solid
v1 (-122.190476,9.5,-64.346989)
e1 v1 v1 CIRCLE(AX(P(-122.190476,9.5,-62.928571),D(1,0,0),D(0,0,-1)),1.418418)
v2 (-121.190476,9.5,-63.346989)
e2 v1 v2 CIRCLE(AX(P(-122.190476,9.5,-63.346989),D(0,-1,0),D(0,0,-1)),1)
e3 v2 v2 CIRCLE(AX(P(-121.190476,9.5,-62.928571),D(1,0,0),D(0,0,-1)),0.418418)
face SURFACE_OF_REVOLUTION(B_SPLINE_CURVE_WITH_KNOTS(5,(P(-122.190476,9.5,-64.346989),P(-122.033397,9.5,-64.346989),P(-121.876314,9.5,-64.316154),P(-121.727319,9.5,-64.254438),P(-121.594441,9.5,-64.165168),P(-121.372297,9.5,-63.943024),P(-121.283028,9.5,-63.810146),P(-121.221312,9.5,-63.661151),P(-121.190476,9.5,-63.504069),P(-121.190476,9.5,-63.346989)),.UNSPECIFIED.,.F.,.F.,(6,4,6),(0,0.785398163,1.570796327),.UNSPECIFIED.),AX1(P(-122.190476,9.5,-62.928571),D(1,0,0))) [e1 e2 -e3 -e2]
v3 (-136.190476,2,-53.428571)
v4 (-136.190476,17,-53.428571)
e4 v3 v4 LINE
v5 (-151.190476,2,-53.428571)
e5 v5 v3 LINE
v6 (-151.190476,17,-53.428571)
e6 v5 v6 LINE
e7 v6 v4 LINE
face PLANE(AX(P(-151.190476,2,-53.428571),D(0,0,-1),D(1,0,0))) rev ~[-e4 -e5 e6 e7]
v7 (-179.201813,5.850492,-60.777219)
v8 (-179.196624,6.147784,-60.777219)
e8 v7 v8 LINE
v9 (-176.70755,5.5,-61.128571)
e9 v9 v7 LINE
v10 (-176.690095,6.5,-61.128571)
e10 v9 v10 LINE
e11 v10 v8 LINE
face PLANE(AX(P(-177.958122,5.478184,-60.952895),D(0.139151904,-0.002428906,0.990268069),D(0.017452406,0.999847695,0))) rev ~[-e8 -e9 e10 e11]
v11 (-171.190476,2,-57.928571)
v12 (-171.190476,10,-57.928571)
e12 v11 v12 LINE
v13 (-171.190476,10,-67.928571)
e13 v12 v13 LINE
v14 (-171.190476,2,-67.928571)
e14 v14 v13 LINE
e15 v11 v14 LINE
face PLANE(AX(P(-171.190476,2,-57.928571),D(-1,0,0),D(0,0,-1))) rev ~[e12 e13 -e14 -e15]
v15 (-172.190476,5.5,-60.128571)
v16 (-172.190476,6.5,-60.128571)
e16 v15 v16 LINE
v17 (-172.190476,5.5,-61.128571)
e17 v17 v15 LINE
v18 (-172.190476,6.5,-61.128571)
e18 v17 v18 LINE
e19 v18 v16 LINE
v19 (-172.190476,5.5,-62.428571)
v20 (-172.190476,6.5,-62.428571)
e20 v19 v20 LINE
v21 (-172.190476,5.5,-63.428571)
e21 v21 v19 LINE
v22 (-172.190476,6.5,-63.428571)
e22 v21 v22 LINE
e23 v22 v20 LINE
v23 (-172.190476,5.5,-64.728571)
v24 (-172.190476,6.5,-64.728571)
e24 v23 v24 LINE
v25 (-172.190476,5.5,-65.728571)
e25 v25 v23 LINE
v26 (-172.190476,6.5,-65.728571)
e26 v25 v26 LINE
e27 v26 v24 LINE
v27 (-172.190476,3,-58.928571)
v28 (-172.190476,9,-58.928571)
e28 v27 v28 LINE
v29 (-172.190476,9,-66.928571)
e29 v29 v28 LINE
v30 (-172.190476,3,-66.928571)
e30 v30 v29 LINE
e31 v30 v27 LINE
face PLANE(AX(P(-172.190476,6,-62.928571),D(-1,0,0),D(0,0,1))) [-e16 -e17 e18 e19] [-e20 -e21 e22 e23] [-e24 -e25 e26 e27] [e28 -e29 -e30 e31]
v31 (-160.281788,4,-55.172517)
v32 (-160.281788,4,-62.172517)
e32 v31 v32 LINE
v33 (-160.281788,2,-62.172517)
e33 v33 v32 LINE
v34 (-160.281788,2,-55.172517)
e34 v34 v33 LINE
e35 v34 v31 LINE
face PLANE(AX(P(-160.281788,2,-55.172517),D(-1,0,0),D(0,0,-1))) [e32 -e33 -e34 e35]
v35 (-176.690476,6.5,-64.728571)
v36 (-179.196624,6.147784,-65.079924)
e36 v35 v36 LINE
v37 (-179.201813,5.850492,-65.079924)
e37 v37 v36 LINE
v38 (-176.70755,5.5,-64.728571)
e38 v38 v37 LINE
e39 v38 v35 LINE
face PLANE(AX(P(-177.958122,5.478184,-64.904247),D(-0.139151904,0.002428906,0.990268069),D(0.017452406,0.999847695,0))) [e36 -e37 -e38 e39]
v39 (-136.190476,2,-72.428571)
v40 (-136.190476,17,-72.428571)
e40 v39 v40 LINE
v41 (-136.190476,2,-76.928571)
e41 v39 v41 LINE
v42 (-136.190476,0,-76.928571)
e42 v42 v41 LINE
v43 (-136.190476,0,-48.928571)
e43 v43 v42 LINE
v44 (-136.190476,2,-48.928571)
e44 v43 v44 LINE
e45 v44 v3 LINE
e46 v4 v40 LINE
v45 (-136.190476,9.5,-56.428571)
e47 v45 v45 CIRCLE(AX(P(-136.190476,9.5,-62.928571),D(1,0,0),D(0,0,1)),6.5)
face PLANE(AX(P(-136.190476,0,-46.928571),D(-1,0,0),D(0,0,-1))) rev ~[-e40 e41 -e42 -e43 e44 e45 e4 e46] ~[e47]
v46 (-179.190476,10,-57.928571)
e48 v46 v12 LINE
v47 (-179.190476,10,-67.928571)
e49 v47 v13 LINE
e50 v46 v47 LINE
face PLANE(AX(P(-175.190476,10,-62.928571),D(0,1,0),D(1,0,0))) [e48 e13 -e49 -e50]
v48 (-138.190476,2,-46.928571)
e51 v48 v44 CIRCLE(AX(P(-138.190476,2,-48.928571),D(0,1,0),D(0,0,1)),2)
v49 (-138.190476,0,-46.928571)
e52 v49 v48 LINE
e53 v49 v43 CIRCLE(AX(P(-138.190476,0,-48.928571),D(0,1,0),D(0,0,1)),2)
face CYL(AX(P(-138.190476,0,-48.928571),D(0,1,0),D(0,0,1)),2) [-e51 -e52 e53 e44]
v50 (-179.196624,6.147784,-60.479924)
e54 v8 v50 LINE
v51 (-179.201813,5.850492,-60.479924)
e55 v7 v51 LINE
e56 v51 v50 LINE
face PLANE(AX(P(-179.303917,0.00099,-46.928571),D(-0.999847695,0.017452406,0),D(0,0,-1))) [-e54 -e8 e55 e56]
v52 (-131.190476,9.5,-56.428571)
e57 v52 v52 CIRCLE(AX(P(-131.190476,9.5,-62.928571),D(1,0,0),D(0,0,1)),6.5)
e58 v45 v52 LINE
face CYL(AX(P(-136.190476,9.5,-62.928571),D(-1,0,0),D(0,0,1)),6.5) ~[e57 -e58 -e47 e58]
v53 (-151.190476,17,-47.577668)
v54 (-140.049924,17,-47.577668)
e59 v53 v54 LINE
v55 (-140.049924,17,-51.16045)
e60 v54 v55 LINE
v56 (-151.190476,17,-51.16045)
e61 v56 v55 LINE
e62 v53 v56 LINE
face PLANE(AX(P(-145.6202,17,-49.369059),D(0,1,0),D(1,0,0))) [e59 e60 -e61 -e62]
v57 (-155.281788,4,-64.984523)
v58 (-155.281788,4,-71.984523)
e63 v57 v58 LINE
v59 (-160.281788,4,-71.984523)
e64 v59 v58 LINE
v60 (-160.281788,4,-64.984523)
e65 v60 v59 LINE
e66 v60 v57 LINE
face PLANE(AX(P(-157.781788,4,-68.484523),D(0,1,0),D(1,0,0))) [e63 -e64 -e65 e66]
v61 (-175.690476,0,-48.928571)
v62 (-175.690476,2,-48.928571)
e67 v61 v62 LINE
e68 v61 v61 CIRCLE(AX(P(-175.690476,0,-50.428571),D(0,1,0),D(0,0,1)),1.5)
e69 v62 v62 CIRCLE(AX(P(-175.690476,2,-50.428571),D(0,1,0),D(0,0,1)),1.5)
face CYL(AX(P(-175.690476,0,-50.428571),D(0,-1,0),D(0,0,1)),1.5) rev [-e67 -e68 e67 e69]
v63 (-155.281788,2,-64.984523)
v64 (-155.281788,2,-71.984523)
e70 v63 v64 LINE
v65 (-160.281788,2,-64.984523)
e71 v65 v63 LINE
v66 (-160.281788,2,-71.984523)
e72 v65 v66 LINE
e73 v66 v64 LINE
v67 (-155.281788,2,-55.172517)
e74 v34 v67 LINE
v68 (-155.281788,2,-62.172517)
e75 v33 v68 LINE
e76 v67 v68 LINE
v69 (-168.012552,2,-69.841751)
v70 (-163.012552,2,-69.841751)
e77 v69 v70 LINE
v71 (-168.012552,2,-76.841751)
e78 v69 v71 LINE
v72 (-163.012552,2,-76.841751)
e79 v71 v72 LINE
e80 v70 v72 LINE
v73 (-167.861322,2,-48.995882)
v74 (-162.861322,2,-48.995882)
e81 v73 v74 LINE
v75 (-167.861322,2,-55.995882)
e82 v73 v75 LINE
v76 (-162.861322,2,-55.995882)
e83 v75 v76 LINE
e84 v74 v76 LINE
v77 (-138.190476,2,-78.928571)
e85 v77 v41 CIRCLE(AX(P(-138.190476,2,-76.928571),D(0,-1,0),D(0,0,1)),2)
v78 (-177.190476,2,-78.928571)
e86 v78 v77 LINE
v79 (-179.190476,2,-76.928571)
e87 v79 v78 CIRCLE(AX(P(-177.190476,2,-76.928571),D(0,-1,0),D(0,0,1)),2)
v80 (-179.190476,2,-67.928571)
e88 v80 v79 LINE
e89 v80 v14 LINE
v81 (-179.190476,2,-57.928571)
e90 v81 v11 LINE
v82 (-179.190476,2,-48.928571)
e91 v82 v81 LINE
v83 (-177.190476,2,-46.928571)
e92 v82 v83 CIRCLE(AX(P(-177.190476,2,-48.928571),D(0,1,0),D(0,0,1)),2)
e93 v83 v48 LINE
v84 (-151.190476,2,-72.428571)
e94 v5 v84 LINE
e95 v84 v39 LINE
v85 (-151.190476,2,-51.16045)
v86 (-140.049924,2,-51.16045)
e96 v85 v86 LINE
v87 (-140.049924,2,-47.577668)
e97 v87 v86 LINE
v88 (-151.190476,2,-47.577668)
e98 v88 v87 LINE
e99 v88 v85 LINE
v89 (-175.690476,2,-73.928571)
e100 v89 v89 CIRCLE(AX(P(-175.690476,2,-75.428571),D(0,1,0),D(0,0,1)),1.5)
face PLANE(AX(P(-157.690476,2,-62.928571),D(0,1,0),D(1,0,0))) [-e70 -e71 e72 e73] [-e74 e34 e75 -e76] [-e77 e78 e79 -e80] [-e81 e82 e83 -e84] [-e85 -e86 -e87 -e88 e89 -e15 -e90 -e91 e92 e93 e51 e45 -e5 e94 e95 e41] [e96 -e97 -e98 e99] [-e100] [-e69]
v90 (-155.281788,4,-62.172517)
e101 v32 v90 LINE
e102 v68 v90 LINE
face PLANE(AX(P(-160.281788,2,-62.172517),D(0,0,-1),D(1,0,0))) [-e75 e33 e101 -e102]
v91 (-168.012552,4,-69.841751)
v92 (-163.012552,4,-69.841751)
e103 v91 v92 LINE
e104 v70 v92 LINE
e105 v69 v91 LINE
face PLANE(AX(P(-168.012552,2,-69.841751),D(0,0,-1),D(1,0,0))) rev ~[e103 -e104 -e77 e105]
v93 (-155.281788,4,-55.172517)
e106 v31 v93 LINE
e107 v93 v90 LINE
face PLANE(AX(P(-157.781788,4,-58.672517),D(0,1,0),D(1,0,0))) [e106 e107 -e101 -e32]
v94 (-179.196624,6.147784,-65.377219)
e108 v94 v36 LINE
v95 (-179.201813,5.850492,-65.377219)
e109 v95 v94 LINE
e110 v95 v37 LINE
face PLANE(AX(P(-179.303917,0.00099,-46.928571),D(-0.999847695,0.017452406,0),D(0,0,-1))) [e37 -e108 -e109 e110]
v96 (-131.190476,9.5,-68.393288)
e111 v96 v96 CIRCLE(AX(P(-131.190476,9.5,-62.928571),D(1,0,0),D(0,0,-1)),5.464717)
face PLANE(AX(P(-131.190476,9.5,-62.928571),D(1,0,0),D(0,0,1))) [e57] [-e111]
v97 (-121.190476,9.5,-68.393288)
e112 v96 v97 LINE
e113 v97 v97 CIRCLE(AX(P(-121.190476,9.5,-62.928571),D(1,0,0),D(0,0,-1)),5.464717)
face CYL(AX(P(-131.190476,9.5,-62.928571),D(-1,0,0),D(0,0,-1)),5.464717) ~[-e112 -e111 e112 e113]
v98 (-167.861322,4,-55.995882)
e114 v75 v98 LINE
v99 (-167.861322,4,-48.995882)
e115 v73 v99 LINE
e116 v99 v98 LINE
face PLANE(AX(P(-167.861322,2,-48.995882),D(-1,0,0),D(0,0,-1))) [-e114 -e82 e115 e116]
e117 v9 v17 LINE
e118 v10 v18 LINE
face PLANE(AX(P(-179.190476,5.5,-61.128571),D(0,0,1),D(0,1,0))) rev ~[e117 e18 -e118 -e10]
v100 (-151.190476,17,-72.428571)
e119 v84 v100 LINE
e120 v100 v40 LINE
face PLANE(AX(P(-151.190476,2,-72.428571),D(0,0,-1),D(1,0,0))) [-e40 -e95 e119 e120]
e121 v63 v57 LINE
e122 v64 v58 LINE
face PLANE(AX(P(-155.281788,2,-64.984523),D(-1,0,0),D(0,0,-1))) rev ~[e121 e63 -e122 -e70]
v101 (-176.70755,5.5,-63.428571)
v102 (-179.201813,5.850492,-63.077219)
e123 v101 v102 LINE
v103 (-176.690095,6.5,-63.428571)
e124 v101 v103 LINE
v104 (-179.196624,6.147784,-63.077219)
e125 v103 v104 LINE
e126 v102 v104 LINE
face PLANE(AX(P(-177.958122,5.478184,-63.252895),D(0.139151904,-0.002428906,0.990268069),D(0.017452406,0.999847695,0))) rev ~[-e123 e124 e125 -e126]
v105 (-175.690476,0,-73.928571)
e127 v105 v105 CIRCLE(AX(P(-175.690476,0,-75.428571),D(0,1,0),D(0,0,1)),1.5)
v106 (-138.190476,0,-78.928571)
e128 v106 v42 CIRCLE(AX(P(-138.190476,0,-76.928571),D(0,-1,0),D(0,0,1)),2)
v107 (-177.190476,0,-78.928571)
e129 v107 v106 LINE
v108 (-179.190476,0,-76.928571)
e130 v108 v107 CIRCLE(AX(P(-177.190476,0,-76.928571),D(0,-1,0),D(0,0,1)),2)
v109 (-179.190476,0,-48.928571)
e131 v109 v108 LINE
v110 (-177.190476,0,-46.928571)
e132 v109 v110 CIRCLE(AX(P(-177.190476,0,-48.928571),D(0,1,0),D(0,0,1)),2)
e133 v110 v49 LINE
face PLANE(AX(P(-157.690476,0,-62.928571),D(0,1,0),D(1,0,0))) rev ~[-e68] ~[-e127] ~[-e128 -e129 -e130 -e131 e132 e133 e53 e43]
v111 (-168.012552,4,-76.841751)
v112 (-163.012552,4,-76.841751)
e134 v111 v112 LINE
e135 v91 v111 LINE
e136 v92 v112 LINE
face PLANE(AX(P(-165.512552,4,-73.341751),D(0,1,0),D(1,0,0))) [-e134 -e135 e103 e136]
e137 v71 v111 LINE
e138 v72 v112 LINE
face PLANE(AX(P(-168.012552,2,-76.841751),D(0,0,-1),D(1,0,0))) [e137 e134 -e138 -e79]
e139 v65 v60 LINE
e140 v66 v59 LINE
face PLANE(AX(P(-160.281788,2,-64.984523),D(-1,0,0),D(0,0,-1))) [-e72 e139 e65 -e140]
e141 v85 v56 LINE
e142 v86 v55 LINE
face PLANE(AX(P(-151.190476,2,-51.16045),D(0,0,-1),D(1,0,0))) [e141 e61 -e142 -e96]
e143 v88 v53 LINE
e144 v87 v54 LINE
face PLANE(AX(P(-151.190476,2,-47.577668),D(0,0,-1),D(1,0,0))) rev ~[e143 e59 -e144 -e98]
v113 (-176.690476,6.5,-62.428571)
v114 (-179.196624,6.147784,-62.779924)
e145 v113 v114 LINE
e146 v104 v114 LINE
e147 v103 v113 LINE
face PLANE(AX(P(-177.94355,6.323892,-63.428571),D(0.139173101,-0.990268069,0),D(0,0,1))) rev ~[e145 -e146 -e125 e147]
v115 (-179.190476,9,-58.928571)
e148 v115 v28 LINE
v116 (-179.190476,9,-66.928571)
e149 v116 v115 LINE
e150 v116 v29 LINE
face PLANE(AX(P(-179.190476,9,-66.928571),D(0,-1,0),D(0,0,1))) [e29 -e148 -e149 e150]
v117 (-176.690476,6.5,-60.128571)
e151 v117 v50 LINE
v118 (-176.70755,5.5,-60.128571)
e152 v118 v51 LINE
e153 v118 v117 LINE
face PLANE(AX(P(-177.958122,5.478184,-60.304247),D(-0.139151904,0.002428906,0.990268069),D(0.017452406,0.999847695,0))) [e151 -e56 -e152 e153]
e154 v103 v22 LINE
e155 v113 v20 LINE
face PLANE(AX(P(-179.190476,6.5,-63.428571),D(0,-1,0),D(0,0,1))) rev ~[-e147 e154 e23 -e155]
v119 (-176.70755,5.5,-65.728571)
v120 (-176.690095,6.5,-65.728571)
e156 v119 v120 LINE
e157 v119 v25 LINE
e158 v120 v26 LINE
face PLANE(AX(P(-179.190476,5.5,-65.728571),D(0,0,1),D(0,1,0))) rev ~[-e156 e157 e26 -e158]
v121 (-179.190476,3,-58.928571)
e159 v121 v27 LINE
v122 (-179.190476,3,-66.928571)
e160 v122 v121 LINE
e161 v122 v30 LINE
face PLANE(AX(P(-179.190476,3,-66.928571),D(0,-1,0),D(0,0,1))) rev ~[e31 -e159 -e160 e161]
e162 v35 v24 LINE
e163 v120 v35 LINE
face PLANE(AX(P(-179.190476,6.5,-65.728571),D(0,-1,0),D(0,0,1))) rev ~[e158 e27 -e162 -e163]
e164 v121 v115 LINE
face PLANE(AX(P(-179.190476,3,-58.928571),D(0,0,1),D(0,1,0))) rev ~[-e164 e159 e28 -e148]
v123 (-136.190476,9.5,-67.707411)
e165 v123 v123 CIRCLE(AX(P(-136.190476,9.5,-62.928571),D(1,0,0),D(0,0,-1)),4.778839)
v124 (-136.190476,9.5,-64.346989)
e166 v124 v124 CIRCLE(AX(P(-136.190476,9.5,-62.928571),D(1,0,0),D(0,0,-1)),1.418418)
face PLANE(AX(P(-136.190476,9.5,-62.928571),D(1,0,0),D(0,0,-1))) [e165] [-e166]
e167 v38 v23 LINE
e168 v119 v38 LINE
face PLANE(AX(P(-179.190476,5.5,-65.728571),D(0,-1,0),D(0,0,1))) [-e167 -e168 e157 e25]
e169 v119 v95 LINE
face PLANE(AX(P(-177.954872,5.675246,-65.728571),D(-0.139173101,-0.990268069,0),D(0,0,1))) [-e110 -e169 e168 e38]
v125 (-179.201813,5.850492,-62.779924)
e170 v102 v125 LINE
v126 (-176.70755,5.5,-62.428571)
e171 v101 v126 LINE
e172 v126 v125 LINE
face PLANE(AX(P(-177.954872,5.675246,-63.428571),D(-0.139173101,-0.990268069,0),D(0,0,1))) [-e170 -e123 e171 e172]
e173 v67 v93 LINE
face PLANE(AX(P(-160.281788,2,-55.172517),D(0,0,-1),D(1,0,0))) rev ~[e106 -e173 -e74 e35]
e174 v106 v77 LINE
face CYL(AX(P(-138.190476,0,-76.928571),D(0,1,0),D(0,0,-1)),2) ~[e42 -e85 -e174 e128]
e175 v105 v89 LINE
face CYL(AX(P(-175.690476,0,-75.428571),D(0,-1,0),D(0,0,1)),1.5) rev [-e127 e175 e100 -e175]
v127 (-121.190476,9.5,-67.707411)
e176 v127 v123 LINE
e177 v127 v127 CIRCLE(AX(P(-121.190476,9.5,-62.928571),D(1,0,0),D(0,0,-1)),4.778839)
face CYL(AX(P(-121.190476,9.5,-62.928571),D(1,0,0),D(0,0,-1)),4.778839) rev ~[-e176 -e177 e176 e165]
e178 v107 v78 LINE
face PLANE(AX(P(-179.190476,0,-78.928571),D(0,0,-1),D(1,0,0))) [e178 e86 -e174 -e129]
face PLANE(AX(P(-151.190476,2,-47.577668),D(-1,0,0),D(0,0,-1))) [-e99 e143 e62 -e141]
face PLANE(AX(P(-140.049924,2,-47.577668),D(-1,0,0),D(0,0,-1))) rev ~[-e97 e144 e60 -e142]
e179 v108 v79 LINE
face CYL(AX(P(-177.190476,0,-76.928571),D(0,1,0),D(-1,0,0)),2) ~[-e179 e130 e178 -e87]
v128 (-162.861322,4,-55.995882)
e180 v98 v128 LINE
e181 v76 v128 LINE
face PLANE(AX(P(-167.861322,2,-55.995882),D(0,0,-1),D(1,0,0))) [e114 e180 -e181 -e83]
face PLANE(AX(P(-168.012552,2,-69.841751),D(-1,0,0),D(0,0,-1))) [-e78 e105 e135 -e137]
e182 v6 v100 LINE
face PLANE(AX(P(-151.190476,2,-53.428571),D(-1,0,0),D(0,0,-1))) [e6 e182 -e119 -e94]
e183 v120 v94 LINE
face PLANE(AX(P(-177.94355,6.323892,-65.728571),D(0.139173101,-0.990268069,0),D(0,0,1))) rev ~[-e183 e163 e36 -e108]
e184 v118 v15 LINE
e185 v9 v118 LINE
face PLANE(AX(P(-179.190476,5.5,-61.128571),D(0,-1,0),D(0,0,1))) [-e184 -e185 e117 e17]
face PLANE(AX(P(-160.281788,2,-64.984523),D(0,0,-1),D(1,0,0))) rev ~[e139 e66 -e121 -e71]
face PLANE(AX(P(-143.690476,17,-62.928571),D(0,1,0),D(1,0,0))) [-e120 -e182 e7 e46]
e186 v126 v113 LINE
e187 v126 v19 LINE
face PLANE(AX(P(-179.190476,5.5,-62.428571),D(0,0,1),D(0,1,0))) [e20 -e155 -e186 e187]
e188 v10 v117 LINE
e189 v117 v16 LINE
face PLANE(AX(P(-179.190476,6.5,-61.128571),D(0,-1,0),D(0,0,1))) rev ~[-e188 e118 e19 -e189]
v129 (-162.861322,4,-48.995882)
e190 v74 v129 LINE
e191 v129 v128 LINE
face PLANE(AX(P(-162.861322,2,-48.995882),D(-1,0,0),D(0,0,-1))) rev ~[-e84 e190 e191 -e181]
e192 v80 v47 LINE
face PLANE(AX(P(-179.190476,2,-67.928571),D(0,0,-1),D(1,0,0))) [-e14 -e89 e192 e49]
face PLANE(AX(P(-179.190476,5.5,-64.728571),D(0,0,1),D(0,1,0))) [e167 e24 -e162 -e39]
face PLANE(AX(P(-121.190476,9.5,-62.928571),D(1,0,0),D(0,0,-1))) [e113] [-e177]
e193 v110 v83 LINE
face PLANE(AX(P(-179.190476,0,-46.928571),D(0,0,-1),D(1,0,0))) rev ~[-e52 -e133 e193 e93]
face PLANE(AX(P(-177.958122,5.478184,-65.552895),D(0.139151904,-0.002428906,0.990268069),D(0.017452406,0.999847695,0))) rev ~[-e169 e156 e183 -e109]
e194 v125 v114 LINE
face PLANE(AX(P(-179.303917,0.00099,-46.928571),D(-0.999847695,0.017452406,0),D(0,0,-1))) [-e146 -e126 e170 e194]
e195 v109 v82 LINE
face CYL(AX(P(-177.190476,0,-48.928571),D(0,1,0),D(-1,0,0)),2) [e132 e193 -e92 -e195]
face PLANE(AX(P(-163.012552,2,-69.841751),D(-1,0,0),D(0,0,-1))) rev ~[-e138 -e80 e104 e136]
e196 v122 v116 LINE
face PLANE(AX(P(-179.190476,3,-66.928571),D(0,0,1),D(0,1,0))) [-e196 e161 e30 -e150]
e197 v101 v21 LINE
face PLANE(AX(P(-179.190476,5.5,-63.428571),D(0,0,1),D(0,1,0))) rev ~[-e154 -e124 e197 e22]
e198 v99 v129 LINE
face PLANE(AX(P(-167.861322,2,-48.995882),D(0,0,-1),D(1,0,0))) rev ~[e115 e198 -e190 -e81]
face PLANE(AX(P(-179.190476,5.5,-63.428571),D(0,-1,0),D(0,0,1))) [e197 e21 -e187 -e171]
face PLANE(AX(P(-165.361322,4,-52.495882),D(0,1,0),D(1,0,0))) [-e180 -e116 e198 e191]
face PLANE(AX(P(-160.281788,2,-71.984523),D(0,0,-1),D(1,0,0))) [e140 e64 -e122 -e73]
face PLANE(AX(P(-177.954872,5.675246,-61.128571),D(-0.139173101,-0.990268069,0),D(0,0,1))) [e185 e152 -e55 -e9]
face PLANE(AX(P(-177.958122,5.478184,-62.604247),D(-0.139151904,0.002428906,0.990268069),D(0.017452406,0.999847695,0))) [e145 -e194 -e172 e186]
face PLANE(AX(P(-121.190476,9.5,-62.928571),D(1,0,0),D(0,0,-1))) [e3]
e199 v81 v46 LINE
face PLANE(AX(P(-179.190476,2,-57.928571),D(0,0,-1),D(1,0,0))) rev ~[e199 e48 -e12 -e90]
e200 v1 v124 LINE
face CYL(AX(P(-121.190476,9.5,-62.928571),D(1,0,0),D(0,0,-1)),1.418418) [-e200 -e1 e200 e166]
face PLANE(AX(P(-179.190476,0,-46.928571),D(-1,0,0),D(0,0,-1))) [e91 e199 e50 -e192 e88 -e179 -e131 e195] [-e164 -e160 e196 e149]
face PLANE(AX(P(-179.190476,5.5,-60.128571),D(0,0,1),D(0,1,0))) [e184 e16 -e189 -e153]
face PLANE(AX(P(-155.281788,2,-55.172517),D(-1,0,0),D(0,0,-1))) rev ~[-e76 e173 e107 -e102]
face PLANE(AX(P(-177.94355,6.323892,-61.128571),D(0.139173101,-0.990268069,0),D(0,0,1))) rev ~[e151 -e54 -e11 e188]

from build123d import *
from OCP.BRepFilletAPI import BRepFilletAPI_MakeChamfer

# Parameters (mm, degrees)
SKETCH1_W           = 43
SKETCH1_H           = 32
SKETCH1_R           = 1.5
BOSS_EXTRUDE1_DEPTH = 2
FILLET1_R           = 2
SKETCH2_W           = 15
SKETCH2_H           = 19
SKETCH2_W_2         = 11.140552481
SKETCH2_H_2         = 3.582781673
BOSS_EXTRUDE2_DEPTH = 15
SKETCH3_W           = 8
SKETCH3_H           = 10
BOSS_EXTRUDE3_DEPTH = 8
SKETCH4_W           = 5
SKETCH4_H           = 7
BOSS_EXTRUDE4_DEPTH = 2
SKETCH5_W           = 8
SKETCH5_H           = 6
SKETCH5_W_2         = 1
SKETCH5_H_2         = 1
CUT_EXTRUDE1_DEPTH  = 7
DRAFT1_ANGLE        = 1
CHAMFER1_SIZE       = 2.5
CHAMFER1_SIZE2      = 0.351352087
CHAMFER1_SIZE2_2    = 0.352269778
CHAMFER1_SIZE2_3    = 0.350545667
SKETCH6_R           = 6.5
BOSS_EXTRUDE5_DEPTH = 5
SKETCH7_R           = 5.464716876
BOSS_EXTRUDE6_DEPTH = 10
SKETCH8_R           = 4.778839206
SKETCH8_R_2         = 1.418417939
CUT_EXTRUDE2_DEPTH  = 15
FILLET3_R           = 1


with BuildPart() as part:
    # Sketch1 → Boss-Extrude1 (new body)
    with BuildSketch(Plane(origin=(0, 0, 0), x_dir=(1, 0, 0), z_dir=(0, 1, 0))):
        with Locations((-157.69047619, 62.928571429)):
            Rectangle(SKETCH1_W, SKETCH1_H)
        with Locations(Location((-175.69047619, 75.428571429, 0), (0, 0, 270))):
            Circle(SKETCH1_R, mode=Mode.SUBTRACT)
        with Locations(Location((-175.69047619, 50.428571429, 0), (0, 0, 270))):
            Circle(SKETCH1_R, mode=Mode.SUBTRACT)
    extrude(amount=BOSS_EXTRUDE1_DEPTH)

    # Fillet1
    fillet1_edges = [part.edges().sort_by_distance(p)[0] for p in [
        (-179.19047619, 1, -78.928571429),
        (-136.19047619, 1, -78.928571429),
        (-136.19047619, 1, -46.928571429),
        (-179.19047619, 1, -46.928571429),
    ]]
    fillet(fillet1_edges, radius=FILLET1_R)

    # Sketch2 → Boss-Extrude2 (add)
    with BuildSketch(Plane(origin=(0, 2, 0), x_dir=(1, 0, 0), z_dir=(0, 1, 0))):
        with Locations((-143.69047619, 62.928571429)):
            Rectangle(SKETCH2_W, SKETCH2_H)
        with Locations((-145.62019995, 49.369059298)):
            Rectangle(SKETCH2_W_2, SKETCH2_H_2)
    extrude(amount=BOSS_EXTRUDE2_DEPTH)

    # Sketch3 → Boss-Extrude3 (add)
    with BuildSketch(Plane(origin=(0, 2, 0), x_dir=(1, 0, 0), z_dir=(0, 1, 0))):
        with Locations((-175.19047619, 62.928571429)):
            Rectangle(SKETCH3_W, SKETCH3_H)
    extrude(amount=BOSS_EXTRUDE3_DEPTH)

    # Sketch4 → Boss-Extrude4 (add)
    with BuildSketch(Plane(origin=(0, 2, 0), x_dir=(1, 0, 0), z_dir=(0, 1, 0))):
        with Locations((-157.781788093, 68.484522729)):
            Rectangle(SKETCH4_W, SKETCH4_H)
        with Locations((-157.781788093, 58.672517023)):
            Rectangle(SKETCH4_W, SKETCH4_H)
        with Locations((-165.512552384, 73.341751138)):
            Rectangle(SKETCH4_W, SKETCH4_H)
        with Locations((-165.361321637, 52.495882076)):
            Rectangle(SKETCH4_W, SKETCH4_H)
    extrude(amount=BOSS_EXTRUDE4_DEPTH)

    # Sketch5 → Cut-Extrude1 (cut)
    with BuildSketch(Plane.ZY.offset(179.19047619)):
        with Locations((-62.928571429, 6)):
            Rectangle(SKETCH5_W, SKETCH5_H)
        with Locations((-65.228571429, 6)):
            Rectangle(SKETCH5_W_2, SKETCH5_H_2, mode=Mode.SUBTRACT)
        with Locations((-62.928571429, 6)):
            Rectangle(SKETCH5_W_2, SKETCH5_H_2, mode=Mode.SUBTRACT)
        with Locations((-60.628571429, 6)):
            Rectangle(SKETCH5_W_2, SKETCH5_H_2, mode=Mode.SUBTRACT)
    extrude(amount=-CUT_EXTRUDE1_DEPTH, mode=Mode.SUBTRACT)

    # Draft1
    draft1_faces = [part.faces().sort_by_distance(p)[0] for p in [
        (-179.19047619, 6, -65.228571429),
        (-179.19047619, 6, -60.628571429),
        (-179.19047619, 6, -62.928571429),
    ]]
    draft(draft1_faces, Plane(origin=(-172.19047619, 6.5, -63.428571429), x_dir=(0, 0, 1), z_dir=(0, 1, 0)), DRAFT1_ANGLE)

    # Chamfer1: one chamfer whose edges measure the first distance from different faces: ONE call of the kernel's chamfer builder (chamfer() names one face for all edges)
    chamfer1_edges_1 = [part.edges().sort_by_distance(p)[0] for p in [
        (-179.199203723, 6, -65.728571429),
    ]]
    chamfer1_side_1 = [part.faces().sort_by_distance(p)[0] for p in [
        (-175.694841768, 5.99979246, -65.728571429),
    ]]
    chamfer1_edges_2 = [part.edges().sort_by_distance(p)[0] for p in [
        (-179.19047619, 6.5, -65.228571429),
    ]]
    chamfer1_side_2 = [part.faces().sort_by_distance(p)[0] for p in [
        (-175.69047619, 6.5, -65.228571429),
    ]]
    chamfer1_edges_3 = [part.edges().sort_by_distance(p)[0] for p in [
        (-179.199203723, 6, -64.728571429),
    ]]
    chamfer1_side_3 = [part.faces().sort_by_distance(p)[0] for p in [
        (-175.694841768, 5.99979246, -64.728571429),
    ]]
    chamfer1_edges_4 = [part.edges().sort_by_distance(p)[0] for p in [
        (-179.207931255, 5.5, -65.228571429),
    ]]
    chamfer1_side_4 = [part.faces().sort_by_distance(p)[0] for p in [
        (-175.699203723, 5.5, -65.228571429),
    ]]
    chamfer1_edges_5 = [part.edges().sort_by_distance(p)[0] for p in [
        (-179.199203723, 6, -63.428571429),
    ]]
    chamfer1_side_5 = [part.faces().sort_by_distance(p)[0] for p in [
        (-175.694841768, 5.99979246, -63.428571429),
    ]]
    chamfer1_edges_6 = [part.edges().sort_by_distance(p)[0] for p in [
        (-179.19047619, 6.5, -62.928571429),
    ]]
    chamfer1_side_6 = [part.faces().sort_by_distance(p)[0] for p in [
        (-175.69047619, 6.5, -62.928571429),
    ]]
    chamfer1_edges_7 = [part.edges().sort_by_distance(p)[0] for p in [
        (-179.199203723, 6, -62.428571429),
    ]]
    chamfer1_side_7 = [part.faces().sort_by_distance(p)[0] for p in [
        (-175.694841768, 5.99979246, -62.428571429),
    ]]
    chamfer1_edges_8 = [part.edges().sort_by_distance(p)[0] for p in [
        (-179.207931255, 5.5, -62.928571429),
    ]]
    chamfer1_side_8 = [part.faces().sort_by_distance(p)[0] for p in [
        (-175.699203723, 5.5, -62.928571429),
    ]]
    chamfer1_edges_9 = [part.edges().sort_by_distance(p)[0] for p in [
        (-179.199203723, 6, -61.128571429),
    ]]
    chamfer1_side_9 = [part.faces().sort_by_distance(p)[0] for p in [
        (-175.694841768, 5.99979246, -61.128571429),
    ]]
    chamfer1_edges_10 = [part.edges().sort_by_distance(p)[0] for p in [
        (-179.19047619, 6.5, -60.628571429),
    ]]
    chamfer1_side_10 = [part.faces().sort_by_distance(p)[0] for p in [
        (-175.69047619, 6.5, -60.628571429),
    ]]
    chamfer1_edges_11 = [part.edges().sort_by_distance(p)[0] for p in [
        (-179.199203723, 6, -60.128571429),
    ]]
    chamfer1_side_11 = [part.faces().sort_by_distance(p)[0] for p in [
        (-175.694841768, 5.99979246, -60.128571429),
    ]]
    chamfer1_edges_12 = [part.edges().sort_by_distance(p)[0] for p in [
        (-179.207931255, 5.5, -60.628571429),
    ]]
    chamfer1_side_12 = [part.faces().sort_by_distance(p)[0] for p in [
        (-175.699203723, 5.5, -60.628571429),
    ]]
    chamfer1 = BRepFilletAPI_MakeChamfer(part.part.solid().wrapped)
    for e in chamfer1_edges_1:
        chamfer1.Add(CHAMFER1_SIZE, CHAMFER1_SIZE2, e.wrapped, chamfer1_side_1[0].wrapped)  # the first distance lies on this face
    for e in chamfer1_edges_2:
        chamfer1.Add(CHAMFER1_SIZE, CHAMFER1_SIZE2_2, e.wrapped, chamfer1_side_2[0].wrapped)  # the first distance lies on this face
    for e in chamfer1_edges_3:
        chamfer1.Add(CHAMFER1_SIZE, CHAMFER1_SIZE2, e.wrapped, chamfer1_side_3[0].wrapped)  # the first distance lies on this face
    for e in chamfer1_edges_4:
        chamfer1.Add(CHAMFER1_SIZE, CHAMFER1_SIZE2_3, e.wrapped, chamfer1_side_4[0].wrapped)  # the first distance lies on this face
    for e in chamfer1_edges_5:
        chamfer1.Add(CHAMFER1_SIZE, CHAMFER1_SIZE2, e.wrapped, chamfer1_side_5[0].wrapped)  # the first distance lies on this face
    for e in chamfer1_edges_6:
        chamfer1.Add(CHAMFER1_SIZE, CHAMFER1_SIZE2_2, e.wrapped, chamfer1_side_6[0].wrapped)  # the first distance lies on this face
    for e in chamfer1_edges_7:
        chamfer1.Add(CHAMFER1_SIZE, CHAMFER1_SIZE2, e.wrapped, chamfer1_side_7[0].wrapped)  # the first distance lies on this face
    for e in chamfer1_edges_8:
        chamfer1.Add(CHAMFER1_SIZE, CHAMFER1_SIZE2_3, e.wrapped, chamfer1_side_8[0].wrapped)  # the first distance lies on this face
    for e in chamfer1_edges_9:
        chamfer1.Add(CHAMFER1_SIZE, CHAMFER1_SIZE2, e.wrapped, chamfer1_side_9[0].wrapped)  # the first distance lies on this face
    for e in chamfer1_edges_10:
        chamfer1.Add(CHAMFER1_SIZE, CHAMFER1_SIZE2_2, e.wrapped, chamfer1_side_10[0].wrapped)  # the first distance lies on this face
    for e in chamfer1_edges_11:
        chamfer1.Add(CHAMFER1_SIZE, CHAMFER1_SIZE2, e.wrapped, chamfer1_side_11[0].wrapped)  # the first distance lies on this face
    for e in chamfer1_edges_12:
        chamfer1.Add(CHAMFER1_SIZE, CHAMFER1_SIZE2_3, e.wrapped, chamfer1_side_12[0].wrapped)  # the first distance lies on this face
    add(Compound.cast(chamfer1.Shape()), mode=Mode.REPLACE)

    # Sketch6 → Boss-Extrude5 (add)
    with BuildSketch(Plane(origin=(-136.19047619, 0, 0), x_dir=(0, 0, -1), z_dir=(1, 0, 0))):
        with Locations(Location((62.928571429, 9.5, 0), (0, 0, 180))):
            Circle(SKETCH6_R)
    extrude(amount=BOSS_EXTRUDE5_DEPTH)

    # Sketch7 → Boss-Extrude6 (add)
    with BuildSketch(Plane(origin=(-131.19047619, 0, 0), x_dir=(0, 0, -1), z_dir=(1, 0, 0))):
        with Locations((62.928571429, 9.5)):
            Circle(SKETCH7_R)
    extrude(amount=BOSS_EXTRUDE6_DEPTH)

    # Sketch8 → Cut-Extrude2 (cut)
    with BuildSketch(Plane(origin=(-121.19047619, 0, 0), x_dir=(0, 0, -1), z_dir=(1, 0, 0))):
        with Locations((62.928571429, 9.5)):
            Circle(SKETCH8_R)
        with Locations((62.928571429, 9.5)):
            Circle(SKETCH8_R_2, mode=Mode.SUBTRACT)
    extrude(amount=-CUT_EXTRUDE2_DEPTH, mode=Mode.SUBTRACT)

    # Fillet3
    fillet3_edges = [part.edges().sort_by_distance(p)[0] for p in [
        (-121.19047619, 9.5, -61.51015349),
    ]]
    fillet(fillet3_edges, radius=FILLET3_R)


solid = part.part
